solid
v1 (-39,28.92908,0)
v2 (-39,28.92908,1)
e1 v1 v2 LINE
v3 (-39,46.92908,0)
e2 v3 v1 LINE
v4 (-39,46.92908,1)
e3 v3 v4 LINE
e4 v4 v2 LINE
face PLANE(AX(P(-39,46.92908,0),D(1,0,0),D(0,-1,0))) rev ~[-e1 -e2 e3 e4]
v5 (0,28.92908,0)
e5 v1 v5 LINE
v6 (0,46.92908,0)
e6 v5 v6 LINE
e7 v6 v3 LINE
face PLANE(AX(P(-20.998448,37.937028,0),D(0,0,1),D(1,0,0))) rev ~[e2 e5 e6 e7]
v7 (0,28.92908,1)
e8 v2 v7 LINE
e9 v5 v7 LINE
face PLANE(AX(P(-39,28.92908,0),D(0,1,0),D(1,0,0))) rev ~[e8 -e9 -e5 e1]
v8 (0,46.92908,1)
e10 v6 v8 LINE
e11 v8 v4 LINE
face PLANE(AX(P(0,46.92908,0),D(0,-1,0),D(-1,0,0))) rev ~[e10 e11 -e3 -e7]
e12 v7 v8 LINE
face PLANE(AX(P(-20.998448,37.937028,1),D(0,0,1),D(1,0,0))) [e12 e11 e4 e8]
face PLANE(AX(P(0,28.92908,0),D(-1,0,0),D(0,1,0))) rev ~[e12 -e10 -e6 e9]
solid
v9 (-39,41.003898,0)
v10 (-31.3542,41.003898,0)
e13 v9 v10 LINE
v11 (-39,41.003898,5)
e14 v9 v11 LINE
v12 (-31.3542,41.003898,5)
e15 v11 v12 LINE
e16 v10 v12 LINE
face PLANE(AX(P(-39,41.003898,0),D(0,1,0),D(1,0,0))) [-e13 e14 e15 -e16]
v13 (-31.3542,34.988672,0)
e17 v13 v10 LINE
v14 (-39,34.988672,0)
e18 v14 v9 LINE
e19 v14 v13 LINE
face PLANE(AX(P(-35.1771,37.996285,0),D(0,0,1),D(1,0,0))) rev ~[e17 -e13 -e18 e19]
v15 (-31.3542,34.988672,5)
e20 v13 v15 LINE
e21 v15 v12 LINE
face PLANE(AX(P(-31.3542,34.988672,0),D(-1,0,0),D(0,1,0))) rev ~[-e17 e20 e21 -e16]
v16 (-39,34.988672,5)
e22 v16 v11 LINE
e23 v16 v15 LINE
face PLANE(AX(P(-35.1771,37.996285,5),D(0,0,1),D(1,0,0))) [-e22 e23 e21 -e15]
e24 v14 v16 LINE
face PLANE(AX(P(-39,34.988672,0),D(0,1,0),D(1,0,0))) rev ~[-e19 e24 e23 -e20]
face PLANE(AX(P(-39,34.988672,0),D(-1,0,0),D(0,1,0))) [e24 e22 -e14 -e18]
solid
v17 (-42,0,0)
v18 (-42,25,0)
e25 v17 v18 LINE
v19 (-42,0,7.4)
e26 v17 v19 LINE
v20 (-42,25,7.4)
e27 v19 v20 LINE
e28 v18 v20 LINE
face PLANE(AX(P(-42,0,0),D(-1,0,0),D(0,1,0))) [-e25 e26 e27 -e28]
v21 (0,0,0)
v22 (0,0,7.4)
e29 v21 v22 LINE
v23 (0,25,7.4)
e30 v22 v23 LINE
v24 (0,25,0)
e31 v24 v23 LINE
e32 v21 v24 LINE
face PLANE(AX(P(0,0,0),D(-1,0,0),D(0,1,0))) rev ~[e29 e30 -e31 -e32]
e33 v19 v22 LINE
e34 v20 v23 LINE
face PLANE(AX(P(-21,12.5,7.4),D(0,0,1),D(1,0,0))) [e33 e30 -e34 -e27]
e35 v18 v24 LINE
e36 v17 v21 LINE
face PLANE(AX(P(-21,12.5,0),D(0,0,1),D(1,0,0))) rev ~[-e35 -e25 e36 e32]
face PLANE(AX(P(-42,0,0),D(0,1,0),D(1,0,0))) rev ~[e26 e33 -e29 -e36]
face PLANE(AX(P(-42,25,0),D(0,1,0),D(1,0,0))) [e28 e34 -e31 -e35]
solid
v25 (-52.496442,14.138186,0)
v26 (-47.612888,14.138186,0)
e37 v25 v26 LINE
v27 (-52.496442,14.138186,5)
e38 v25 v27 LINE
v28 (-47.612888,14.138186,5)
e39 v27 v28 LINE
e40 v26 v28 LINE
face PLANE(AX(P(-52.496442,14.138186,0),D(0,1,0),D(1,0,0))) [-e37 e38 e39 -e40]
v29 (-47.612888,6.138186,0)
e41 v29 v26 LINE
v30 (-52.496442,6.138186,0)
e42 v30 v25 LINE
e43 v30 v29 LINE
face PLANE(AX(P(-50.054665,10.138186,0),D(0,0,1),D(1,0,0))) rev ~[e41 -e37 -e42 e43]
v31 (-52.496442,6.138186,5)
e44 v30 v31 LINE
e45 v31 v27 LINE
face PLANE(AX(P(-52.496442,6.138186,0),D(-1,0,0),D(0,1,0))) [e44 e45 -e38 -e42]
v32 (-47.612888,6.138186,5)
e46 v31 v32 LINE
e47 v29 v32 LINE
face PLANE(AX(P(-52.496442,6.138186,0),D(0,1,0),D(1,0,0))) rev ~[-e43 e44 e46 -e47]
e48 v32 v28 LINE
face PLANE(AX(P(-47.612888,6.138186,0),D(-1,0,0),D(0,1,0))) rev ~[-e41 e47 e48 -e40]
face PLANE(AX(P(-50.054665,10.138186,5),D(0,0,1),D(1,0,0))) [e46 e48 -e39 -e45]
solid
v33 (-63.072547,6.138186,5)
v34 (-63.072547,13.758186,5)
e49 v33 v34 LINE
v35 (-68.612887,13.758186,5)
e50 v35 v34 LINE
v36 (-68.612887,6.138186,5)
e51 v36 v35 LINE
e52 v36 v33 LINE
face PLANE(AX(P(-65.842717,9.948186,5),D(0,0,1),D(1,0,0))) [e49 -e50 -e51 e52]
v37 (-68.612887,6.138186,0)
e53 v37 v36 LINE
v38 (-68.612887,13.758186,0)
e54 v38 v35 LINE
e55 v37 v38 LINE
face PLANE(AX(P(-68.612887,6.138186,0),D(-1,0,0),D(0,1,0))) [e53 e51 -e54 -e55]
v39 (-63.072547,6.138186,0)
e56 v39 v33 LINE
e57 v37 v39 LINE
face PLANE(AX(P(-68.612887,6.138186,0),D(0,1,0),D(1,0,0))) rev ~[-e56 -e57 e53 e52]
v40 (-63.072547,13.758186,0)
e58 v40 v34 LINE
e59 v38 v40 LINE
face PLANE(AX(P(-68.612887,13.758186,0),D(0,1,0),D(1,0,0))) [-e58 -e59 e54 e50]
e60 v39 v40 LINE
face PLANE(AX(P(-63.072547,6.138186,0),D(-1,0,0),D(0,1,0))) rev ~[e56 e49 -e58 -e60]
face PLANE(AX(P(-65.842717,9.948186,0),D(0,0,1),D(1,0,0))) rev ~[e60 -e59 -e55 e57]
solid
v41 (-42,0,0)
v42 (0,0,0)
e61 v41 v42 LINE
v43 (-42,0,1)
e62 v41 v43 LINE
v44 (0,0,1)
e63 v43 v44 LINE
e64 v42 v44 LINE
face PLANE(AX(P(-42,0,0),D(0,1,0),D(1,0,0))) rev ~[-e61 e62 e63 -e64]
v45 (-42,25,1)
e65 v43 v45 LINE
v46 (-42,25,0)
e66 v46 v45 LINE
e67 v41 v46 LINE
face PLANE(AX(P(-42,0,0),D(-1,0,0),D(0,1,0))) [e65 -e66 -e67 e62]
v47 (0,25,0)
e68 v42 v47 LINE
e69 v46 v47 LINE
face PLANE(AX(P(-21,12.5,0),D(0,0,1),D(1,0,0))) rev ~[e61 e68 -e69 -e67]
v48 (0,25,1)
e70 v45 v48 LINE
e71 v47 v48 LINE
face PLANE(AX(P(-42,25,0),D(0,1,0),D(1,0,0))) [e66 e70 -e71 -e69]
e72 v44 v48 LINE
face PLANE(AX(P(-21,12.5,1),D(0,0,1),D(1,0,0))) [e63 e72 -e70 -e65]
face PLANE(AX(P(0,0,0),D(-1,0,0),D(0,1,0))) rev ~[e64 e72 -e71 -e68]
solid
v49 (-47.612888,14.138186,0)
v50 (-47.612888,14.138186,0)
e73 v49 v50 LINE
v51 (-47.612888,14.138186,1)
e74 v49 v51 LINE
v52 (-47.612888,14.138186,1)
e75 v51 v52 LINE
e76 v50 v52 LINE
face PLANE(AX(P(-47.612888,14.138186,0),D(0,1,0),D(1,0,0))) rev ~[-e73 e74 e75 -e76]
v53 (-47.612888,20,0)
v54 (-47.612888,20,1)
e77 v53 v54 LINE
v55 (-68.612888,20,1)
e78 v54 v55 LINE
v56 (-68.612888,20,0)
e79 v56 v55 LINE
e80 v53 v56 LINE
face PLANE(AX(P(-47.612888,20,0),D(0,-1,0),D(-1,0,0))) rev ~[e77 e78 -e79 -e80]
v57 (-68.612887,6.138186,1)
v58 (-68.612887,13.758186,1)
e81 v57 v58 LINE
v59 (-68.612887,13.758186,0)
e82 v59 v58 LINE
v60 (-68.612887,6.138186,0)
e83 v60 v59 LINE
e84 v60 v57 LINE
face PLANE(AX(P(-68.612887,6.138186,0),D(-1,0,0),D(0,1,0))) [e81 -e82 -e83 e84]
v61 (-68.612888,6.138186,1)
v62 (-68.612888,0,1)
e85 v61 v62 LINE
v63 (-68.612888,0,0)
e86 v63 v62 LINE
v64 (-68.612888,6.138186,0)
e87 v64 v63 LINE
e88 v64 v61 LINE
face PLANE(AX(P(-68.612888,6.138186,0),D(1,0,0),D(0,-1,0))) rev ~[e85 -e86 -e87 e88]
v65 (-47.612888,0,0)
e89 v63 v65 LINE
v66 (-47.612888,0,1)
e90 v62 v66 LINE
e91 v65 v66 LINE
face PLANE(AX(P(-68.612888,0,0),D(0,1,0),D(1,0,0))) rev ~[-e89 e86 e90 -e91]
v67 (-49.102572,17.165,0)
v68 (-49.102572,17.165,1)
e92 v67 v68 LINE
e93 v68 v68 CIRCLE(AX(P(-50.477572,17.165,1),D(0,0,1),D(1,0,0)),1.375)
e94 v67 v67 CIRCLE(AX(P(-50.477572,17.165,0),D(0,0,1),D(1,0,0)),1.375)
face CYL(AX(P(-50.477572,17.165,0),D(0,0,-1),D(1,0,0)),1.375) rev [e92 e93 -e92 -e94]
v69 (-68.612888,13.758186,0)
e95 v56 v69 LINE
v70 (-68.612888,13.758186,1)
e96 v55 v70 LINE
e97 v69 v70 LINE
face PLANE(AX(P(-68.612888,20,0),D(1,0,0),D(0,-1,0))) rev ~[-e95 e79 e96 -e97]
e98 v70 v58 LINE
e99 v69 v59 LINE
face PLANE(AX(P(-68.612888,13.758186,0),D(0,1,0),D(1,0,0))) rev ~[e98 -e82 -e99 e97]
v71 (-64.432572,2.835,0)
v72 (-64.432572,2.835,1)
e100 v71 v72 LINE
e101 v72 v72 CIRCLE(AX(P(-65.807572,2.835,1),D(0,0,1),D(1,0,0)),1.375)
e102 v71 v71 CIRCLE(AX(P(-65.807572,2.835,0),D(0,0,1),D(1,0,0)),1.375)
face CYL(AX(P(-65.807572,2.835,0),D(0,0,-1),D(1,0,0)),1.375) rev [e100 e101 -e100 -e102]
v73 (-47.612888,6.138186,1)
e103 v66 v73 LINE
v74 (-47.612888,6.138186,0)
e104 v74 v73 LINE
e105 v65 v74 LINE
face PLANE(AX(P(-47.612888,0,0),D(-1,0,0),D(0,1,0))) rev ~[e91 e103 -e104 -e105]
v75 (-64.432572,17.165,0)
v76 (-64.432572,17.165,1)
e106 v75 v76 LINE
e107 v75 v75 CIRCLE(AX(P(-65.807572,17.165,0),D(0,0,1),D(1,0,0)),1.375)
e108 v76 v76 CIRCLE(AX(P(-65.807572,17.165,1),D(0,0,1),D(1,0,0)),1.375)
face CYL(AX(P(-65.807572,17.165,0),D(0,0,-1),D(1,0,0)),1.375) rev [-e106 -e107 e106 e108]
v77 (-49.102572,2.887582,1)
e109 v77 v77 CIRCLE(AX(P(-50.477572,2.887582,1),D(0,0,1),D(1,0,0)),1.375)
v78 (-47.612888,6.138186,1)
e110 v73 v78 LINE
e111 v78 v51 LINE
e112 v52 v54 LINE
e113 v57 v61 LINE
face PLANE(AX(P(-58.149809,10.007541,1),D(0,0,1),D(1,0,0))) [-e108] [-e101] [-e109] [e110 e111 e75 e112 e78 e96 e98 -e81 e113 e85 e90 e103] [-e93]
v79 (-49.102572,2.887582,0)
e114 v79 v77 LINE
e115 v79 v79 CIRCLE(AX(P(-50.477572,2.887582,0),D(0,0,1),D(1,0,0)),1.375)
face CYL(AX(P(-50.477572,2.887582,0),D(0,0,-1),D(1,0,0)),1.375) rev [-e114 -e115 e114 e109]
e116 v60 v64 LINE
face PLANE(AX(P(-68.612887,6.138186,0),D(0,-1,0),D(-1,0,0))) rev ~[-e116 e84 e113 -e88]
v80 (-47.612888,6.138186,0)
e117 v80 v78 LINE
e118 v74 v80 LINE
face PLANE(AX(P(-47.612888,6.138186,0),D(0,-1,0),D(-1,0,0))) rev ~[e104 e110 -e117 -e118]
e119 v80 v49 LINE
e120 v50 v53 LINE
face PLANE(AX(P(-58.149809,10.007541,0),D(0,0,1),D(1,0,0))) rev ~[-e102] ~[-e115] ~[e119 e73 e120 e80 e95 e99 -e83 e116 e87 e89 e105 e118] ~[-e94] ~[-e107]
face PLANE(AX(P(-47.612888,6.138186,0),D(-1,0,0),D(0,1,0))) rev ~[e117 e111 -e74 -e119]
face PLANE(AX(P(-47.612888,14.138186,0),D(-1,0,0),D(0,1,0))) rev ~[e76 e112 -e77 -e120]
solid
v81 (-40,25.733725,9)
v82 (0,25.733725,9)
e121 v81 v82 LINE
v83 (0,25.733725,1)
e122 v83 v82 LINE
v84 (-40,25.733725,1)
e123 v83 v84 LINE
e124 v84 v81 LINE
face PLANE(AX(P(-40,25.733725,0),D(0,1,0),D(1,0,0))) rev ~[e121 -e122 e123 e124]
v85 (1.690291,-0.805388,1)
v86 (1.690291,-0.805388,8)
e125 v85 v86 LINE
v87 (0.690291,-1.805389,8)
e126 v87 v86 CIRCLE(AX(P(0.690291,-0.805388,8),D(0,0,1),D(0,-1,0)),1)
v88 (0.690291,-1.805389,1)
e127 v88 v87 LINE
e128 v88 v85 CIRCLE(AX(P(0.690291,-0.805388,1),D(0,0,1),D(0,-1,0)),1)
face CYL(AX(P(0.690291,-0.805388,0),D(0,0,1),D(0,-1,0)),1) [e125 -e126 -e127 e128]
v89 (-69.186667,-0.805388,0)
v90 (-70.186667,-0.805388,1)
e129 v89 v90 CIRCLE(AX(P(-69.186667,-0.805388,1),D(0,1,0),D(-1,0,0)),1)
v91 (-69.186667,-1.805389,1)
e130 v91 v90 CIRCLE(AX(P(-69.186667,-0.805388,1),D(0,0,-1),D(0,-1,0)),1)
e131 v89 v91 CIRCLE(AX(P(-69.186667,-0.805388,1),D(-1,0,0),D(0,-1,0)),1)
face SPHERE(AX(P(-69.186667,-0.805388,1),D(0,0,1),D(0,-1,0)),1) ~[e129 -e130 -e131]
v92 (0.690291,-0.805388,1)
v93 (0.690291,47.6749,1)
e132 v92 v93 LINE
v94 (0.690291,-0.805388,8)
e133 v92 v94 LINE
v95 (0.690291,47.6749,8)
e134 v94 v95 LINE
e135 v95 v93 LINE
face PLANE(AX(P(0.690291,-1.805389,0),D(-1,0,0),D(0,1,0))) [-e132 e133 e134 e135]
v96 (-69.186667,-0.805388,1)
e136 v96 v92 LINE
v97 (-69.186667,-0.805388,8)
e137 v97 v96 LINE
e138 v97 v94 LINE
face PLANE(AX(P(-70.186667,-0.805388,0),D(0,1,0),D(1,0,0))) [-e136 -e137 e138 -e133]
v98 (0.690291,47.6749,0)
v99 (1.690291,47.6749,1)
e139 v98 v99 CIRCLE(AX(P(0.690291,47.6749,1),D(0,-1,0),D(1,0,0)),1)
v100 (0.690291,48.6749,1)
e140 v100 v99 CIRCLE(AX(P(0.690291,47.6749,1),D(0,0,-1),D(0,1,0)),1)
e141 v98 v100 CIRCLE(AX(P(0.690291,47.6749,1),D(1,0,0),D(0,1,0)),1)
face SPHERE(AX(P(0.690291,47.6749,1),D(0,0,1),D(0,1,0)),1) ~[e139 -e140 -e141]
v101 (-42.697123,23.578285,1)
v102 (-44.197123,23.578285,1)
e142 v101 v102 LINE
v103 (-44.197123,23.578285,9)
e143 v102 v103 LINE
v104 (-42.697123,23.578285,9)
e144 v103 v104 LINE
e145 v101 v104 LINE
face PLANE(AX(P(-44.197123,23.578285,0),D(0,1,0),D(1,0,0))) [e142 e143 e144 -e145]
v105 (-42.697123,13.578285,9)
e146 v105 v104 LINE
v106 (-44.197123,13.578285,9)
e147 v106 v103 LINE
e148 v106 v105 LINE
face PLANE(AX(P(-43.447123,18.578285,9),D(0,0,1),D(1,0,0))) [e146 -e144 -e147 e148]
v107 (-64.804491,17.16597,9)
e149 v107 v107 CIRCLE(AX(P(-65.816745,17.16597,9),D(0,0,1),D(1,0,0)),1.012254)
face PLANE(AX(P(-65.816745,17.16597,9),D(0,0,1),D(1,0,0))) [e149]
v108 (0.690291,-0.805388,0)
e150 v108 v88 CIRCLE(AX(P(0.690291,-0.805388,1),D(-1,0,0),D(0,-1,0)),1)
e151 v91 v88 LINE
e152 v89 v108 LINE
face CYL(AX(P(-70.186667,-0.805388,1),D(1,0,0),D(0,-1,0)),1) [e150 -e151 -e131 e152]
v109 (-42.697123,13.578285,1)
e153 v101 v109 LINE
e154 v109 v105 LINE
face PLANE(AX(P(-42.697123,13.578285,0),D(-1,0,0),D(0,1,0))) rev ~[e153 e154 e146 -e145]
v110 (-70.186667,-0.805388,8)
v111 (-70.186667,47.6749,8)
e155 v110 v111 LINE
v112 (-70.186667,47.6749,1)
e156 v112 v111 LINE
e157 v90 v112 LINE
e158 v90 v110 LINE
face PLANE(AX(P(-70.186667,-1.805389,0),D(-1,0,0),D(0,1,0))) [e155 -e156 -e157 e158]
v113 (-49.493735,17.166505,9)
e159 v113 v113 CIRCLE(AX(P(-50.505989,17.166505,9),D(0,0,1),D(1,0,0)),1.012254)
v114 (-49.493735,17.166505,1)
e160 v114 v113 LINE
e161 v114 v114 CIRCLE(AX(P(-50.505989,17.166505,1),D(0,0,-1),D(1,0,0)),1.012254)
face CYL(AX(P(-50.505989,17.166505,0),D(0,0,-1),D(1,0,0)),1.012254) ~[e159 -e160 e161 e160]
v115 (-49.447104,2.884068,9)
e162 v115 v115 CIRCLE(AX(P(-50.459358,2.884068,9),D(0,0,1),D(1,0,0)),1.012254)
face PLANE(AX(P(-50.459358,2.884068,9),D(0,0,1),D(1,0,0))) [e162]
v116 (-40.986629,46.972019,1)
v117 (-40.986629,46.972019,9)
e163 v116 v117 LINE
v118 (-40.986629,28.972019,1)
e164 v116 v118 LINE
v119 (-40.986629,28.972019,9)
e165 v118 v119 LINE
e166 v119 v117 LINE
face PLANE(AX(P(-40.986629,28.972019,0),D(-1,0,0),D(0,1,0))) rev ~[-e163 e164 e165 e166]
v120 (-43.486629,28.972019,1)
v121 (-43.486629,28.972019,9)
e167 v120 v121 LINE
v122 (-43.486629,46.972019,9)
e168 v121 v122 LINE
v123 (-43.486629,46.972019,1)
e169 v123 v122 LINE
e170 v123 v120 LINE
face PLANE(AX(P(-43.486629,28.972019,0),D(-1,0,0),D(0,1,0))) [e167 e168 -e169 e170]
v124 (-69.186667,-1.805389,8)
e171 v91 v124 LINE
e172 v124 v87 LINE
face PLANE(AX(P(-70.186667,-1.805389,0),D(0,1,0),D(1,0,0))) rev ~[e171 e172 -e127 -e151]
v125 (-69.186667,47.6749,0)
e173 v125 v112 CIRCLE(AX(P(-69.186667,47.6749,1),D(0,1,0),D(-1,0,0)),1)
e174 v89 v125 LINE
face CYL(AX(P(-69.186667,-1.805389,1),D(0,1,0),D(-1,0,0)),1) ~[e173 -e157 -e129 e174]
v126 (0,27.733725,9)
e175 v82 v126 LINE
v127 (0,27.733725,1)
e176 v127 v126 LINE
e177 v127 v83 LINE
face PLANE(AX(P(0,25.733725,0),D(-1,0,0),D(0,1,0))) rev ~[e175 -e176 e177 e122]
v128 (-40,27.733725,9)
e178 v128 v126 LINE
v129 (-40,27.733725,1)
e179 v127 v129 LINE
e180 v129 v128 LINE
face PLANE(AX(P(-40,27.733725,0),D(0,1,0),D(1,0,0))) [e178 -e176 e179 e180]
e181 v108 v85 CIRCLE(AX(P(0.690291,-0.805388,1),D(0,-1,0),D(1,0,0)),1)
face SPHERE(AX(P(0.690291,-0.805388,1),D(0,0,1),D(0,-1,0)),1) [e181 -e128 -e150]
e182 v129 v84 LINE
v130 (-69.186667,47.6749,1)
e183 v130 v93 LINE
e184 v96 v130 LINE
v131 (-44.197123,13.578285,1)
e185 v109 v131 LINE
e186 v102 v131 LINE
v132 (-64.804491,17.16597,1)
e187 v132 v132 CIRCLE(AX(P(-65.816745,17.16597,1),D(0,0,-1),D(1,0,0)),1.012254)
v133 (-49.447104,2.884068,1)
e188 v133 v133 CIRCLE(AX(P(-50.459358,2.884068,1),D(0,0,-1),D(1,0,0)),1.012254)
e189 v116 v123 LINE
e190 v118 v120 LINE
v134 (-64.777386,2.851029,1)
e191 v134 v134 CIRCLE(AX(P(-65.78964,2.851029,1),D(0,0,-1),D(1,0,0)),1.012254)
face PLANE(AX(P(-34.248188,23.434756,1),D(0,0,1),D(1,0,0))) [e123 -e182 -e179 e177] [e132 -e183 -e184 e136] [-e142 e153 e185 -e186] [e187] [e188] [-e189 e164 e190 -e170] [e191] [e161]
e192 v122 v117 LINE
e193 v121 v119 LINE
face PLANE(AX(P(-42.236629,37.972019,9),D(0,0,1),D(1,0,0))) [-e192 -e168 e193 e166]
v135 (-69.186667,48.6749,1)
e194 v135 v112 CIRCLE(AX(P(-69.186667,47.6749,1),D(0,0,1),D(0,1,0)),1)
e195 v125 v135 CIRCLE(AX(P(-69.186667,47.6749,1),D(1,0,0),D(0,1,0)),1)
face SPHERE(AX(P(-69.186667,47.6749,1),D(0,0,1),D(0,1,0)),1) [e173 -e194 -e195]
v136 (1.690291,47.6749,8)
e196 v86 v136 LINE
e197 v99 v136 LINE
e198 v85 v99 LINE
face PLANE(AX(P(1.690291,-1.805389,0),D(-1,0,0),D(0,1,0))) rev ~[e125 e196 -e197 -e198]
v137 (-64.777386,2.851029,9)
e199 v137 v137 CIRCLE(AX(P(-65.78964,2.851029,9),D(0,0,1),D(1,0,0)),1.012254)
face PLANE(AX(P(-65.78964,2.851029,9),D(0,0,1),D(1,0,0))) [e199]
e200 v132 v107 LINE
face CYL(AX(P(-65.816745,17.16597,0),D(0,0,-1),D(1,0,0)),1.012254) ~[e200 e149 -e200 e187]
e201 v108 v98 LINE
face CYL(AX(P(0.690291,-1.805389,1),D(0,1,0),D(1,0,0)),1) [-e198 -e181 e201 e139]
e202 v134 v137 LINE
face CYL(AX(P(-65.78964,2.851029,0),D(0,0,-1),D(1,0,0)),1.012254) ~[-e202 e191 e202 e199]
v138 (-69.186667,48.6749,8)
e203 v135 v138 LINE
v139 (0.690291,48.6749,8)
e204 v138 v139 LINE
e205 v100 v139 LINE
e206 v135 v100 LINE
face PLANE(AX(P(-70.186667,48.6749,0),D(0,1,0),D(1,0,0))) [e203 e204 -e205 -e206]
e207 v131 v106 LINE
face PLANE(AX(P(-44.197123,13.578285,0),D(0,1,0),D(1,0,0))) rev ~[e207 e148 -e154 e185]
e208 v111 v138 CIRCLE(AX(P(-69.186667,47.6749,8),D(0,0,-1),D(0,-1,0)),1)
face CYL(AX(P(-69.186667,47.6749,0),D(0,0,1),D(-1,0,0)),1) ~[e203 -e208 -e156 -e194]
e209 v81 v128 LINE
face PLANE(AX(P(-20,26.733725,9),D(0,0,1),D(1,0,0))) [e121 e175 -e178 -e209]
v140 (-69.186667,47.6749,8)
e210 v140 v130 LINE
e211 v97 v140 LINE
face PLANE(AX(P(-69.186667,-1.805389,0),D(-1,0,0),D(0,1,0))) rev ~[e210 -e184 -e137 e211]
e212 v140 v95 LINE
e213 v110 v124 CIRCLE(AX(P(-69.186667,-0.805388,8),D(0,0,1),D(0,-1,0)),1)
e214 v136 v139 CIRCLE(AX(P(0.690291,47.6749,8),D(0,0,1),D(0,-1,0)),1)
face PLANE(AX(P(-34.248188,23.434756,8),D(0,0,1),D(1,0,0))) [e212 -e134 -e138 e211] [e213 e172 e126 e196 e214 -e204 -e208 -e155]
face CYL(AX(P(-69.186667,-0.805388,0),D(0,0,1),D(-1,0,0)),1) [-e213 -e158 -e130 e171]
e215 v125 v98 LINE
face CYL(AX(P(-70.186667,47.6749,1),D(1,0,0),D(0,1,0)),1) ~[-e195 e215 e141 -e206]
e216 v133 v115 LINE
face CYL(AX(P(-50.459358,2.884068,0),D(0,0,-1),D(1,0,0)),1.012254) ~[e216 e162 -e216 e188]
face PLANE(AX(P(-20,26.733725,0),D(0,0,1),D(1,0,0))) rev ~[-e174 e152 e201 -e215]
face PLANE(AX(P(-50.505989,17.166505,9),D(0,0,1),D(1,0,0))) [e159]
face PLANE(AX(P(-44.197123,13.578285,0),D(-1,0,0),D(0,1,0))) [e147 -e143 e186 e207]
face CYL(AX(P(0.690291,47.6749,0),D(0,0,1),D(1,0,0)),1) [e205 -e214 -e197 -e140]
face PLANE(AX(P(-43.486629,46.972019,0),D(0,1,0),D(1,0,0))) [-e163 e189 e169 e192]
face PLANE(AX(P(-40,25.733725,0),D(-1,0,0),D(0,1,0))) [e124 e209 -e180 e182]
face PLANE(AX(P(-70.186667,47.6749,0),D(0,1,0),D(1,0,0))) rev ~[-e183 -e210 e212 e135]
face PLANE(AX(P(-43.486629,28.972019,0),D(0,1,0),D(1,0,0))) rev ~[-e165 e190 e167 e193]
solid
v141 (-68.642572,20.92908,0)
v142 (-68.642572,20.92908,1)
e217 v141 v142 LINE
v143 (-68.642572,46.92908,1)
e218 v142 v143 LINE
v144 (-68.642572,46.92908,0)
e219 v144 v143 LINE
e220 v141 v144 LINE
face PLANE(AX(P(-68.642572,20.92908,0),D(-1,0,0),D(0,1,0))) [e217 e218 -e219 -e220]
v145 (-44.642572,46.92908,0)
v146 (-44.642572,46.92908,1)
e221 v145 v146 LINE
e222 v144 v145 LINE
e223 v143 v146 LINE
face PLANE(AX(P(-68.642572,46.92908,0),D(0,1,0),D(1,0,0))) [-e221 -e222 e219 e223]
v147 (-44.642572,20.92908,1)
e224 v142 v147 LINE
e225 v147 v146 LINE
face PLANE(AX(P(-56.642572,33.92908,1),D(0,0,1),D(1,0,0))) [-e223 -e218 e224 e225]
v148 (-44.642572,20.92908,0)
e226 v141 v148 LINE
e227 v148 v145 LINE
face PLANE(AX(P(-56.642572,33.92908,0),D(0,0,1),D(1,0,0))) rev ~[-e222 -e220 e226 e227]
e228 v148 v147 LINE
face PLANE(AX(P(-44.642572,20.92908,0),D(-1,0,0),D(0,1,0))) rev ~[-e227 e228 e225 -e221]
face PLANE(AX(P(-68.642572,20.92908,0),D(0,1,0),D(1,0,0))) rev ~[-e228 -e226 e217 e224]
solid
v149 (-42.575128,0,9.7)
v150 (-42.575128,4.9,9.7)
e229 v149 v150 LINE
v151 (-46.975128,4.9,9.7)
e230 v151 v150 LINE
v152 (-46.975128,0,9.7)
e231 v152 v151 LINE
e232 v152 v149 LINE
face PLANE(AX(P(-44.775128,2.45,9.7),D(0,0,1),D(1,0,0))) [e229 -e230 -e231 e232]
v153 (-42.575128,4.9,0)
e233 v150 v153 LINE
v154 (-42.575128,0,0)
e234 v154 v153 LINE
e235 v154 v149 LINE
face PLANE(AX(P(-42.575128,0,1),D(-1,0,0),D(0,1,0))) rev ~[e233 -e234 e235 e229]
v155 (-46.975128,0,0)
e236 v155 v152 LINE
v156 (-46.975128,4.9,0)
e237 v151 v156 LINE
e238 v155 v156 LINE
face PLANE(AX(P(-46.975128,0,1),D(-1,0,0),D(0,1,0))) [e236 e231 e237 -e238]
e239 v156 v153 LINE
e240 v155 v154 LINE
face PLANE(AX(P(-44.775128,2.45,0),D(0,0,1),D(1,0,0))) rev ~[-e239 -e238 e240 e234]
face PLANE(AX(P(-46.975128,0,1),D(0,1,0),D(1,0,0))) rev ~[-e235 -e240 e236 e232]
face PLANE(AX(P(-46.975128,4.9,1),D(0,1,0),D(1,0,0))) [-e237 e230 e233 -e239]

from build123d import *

# Parameters (mm, degrees)
F0_W      = 42
F0_H      = 25
F1_DEPTH  = 7.4
F0_W_2    = 7.6458
F0_H_2    = 6.015226
F0_R      = 1.375
F0_W_3    = 4.883553
F0_H_3    = 8
F0_W_4    = 5.540341
F0_H_4    = 7.62
F0_W_5    = 24
F0_H_5    = 26
F0_W_6    = 4.4
F0_H_6    = 4.9
F2_DEPTH  = 1
F3_DEPTH  = 5
F2_FACE_W = 4.4
F2_FACE_H = 4.9
F4_DEPTH  = 8.7
F5_W      = 71.876958
F5_H      = 50.480289
F6_DEPTH  = 8
F7_T      = -1
F8_R      = 1
F9_W      = 40
F9_H      = 2
F9_W_2    = 1.5
F9_H_2    = 10
F9_W_3    = 2.5
F9_H_3    = 18
F9_R      = 1.012254
F10_DEPTH = 9


with BuildPart() as f1:
    # F0 (on Top) → F1 (new body)
    with BuildSketch(Plane.XY):
        with Locations((-21, 12.5)):
            Rectangle(F0_W, F0_H)
    extrude(amount=F1_DEPTH)


with BuildPart() as f2:
    # F0 (on Top) → F2 (new body)
    with BuildSketch(Plane.XY):
        with Locations((-21, 12.5)):
            Rectangle(F0_W, F0_H)
        Polygon((-39, 28.92908), (0, 28.92908), (0, 46.92908), (-39, 46.92908), (-39, 41.003898), (-31.3542, 41.003898), (-31.3542, 34.988672), (-39, 34.988672), align=None)
        with Locations((-35.1771, 37.996285)):
            Rectangle(F0_W_2, F0_H_2)
        Polygon((-68.612888, 0), (-47.612888, 0), (-47.612888, 6.138186), (-52.496441, 6.138186), (-52.496441, 14.138186), (-47.612888, 14.138186), (-47.612888, 20), (-68.612888, 20), (-68.612888, 13.758186), (-63.072547, 13.758186), (-63.072547, 6.138186), (-68.612888, 6.138186), align=None)
        with Locations((-65.807572, 2.835)):
            Circle(F0_R, mode=Mode.SUBTRACT)
        with Locations((-50.477572, 2.887582)):
            Circle(F0_R, mode=Mode.SUBTRACT)
        with Locations((-65.807572, 17.165)):
            Circle(F0_R, mode=Mode.SUBTRACT)
        with Locations((-50.477572, 17.165)):
            Circle(F0_R, mode=Mode.SUBTRACT)
        with Locations((-50.054665, 10.138186)):
            Rectangle(F0_W_3, F0_H_3)
        with Locations((-65.842717, 9.948186)):
            Rectangle(F0_W_4, F0_H_4)
        with Locations((-56.642572, 33.92908)):
            Rectangle(F0_W_5, F0_H_5)
        with Locations((-44.775128, 2.45)):
            Rectangle(F0_W_6, F0_H_6)
    extrude(amount=F2_DEPTH)

    # F2_face (on face) → F4 (join)
    with BuildSketch(Plane(origin=(-44.775128, 2.45, 1), x_dir=(1, 0, 0), z_dir=(0, 0, 1))):
        Rectangle(F2_FACE_W, F2_FACE_H)
    extrude(amount=F4_DEPTH)


with BuildPart() as f3:
    # F0 (on Top) → F3 (new body)
    with BuildSketch(Plane.XY):
        with Locations((-65.842717, 9.948186)):
            Rectangle(F0_W_4, F0_H_4)
        with Locations((-50.054665, 10.138186)):
            Rectangle(F0_W_3, F0_H_3)
        with Locations((-35.1771, 37.996285)):
            Rectangle(F0_W_2, F0_H_2)
    extrude(amount=F3_DEPTH)


with BuildPart() as f6:
    # F5 (on Top) → F6 (new body)
    with BuildSketch(Plane.XY):
        with Locations((-34.248188, 23.434756)):
            Rectangle(F5_W, F5_H)
    extrude(amount=F6_DEPTH)

    # F7
    f7_openings = [f6.faces().sort_by_distance(p)[0] for p in [
        (-34.248188, 23.434756, 8),
    ]]
    offset(amount=F7_T, openings=f7_openings)

    # F8
    f8_edges = [f6.edges().sort_by_distance(p)[0] for p in [
        (-70.186667, -1.805389, 4),
        (1.690291, -1.805389, 4),
        (1.690291, 48.6749, 4),
        (-70.186667, 48.6749, 4),
        (-34.248188, -1.805389, 0),
        (-34.248188, 48.6749, 0),
        (1.690291, 23.434756, 0),
        (-70.186667, 23.434756, 0),
    ]]
    fillet(f8_edges, radius=F8_R)

    # F9 (on Top) → F10 (join)
    with BuildSketch(Plane.XY):
        with Locations((-20, 26.733725)):
            Rectangle(F9_W, F9_H)
        with Locations((-43.447123, 18.578285)):
            Rectangle(F9_W_2, F9_H_2)
        with Locations((-42.236629, 37.972019)):
            Rectangle(F9_W_3, F9_H_3)
        with Locations((-65.816745, 17.16597)):
            Circle(F9_R)
        with Locations((-65.78964, 2.851029)):
            Circle(F9_R)
        with Locations((-50.459358, 2.884068)):
            Circle(F9_R)
        with Locations((-50.505989, 17.166505)):
            Circle(F9_R)
    extrude(amount=F10_DEPTH)


solid = Compound([f1.part, f2.part, f3.part, f6.part])
